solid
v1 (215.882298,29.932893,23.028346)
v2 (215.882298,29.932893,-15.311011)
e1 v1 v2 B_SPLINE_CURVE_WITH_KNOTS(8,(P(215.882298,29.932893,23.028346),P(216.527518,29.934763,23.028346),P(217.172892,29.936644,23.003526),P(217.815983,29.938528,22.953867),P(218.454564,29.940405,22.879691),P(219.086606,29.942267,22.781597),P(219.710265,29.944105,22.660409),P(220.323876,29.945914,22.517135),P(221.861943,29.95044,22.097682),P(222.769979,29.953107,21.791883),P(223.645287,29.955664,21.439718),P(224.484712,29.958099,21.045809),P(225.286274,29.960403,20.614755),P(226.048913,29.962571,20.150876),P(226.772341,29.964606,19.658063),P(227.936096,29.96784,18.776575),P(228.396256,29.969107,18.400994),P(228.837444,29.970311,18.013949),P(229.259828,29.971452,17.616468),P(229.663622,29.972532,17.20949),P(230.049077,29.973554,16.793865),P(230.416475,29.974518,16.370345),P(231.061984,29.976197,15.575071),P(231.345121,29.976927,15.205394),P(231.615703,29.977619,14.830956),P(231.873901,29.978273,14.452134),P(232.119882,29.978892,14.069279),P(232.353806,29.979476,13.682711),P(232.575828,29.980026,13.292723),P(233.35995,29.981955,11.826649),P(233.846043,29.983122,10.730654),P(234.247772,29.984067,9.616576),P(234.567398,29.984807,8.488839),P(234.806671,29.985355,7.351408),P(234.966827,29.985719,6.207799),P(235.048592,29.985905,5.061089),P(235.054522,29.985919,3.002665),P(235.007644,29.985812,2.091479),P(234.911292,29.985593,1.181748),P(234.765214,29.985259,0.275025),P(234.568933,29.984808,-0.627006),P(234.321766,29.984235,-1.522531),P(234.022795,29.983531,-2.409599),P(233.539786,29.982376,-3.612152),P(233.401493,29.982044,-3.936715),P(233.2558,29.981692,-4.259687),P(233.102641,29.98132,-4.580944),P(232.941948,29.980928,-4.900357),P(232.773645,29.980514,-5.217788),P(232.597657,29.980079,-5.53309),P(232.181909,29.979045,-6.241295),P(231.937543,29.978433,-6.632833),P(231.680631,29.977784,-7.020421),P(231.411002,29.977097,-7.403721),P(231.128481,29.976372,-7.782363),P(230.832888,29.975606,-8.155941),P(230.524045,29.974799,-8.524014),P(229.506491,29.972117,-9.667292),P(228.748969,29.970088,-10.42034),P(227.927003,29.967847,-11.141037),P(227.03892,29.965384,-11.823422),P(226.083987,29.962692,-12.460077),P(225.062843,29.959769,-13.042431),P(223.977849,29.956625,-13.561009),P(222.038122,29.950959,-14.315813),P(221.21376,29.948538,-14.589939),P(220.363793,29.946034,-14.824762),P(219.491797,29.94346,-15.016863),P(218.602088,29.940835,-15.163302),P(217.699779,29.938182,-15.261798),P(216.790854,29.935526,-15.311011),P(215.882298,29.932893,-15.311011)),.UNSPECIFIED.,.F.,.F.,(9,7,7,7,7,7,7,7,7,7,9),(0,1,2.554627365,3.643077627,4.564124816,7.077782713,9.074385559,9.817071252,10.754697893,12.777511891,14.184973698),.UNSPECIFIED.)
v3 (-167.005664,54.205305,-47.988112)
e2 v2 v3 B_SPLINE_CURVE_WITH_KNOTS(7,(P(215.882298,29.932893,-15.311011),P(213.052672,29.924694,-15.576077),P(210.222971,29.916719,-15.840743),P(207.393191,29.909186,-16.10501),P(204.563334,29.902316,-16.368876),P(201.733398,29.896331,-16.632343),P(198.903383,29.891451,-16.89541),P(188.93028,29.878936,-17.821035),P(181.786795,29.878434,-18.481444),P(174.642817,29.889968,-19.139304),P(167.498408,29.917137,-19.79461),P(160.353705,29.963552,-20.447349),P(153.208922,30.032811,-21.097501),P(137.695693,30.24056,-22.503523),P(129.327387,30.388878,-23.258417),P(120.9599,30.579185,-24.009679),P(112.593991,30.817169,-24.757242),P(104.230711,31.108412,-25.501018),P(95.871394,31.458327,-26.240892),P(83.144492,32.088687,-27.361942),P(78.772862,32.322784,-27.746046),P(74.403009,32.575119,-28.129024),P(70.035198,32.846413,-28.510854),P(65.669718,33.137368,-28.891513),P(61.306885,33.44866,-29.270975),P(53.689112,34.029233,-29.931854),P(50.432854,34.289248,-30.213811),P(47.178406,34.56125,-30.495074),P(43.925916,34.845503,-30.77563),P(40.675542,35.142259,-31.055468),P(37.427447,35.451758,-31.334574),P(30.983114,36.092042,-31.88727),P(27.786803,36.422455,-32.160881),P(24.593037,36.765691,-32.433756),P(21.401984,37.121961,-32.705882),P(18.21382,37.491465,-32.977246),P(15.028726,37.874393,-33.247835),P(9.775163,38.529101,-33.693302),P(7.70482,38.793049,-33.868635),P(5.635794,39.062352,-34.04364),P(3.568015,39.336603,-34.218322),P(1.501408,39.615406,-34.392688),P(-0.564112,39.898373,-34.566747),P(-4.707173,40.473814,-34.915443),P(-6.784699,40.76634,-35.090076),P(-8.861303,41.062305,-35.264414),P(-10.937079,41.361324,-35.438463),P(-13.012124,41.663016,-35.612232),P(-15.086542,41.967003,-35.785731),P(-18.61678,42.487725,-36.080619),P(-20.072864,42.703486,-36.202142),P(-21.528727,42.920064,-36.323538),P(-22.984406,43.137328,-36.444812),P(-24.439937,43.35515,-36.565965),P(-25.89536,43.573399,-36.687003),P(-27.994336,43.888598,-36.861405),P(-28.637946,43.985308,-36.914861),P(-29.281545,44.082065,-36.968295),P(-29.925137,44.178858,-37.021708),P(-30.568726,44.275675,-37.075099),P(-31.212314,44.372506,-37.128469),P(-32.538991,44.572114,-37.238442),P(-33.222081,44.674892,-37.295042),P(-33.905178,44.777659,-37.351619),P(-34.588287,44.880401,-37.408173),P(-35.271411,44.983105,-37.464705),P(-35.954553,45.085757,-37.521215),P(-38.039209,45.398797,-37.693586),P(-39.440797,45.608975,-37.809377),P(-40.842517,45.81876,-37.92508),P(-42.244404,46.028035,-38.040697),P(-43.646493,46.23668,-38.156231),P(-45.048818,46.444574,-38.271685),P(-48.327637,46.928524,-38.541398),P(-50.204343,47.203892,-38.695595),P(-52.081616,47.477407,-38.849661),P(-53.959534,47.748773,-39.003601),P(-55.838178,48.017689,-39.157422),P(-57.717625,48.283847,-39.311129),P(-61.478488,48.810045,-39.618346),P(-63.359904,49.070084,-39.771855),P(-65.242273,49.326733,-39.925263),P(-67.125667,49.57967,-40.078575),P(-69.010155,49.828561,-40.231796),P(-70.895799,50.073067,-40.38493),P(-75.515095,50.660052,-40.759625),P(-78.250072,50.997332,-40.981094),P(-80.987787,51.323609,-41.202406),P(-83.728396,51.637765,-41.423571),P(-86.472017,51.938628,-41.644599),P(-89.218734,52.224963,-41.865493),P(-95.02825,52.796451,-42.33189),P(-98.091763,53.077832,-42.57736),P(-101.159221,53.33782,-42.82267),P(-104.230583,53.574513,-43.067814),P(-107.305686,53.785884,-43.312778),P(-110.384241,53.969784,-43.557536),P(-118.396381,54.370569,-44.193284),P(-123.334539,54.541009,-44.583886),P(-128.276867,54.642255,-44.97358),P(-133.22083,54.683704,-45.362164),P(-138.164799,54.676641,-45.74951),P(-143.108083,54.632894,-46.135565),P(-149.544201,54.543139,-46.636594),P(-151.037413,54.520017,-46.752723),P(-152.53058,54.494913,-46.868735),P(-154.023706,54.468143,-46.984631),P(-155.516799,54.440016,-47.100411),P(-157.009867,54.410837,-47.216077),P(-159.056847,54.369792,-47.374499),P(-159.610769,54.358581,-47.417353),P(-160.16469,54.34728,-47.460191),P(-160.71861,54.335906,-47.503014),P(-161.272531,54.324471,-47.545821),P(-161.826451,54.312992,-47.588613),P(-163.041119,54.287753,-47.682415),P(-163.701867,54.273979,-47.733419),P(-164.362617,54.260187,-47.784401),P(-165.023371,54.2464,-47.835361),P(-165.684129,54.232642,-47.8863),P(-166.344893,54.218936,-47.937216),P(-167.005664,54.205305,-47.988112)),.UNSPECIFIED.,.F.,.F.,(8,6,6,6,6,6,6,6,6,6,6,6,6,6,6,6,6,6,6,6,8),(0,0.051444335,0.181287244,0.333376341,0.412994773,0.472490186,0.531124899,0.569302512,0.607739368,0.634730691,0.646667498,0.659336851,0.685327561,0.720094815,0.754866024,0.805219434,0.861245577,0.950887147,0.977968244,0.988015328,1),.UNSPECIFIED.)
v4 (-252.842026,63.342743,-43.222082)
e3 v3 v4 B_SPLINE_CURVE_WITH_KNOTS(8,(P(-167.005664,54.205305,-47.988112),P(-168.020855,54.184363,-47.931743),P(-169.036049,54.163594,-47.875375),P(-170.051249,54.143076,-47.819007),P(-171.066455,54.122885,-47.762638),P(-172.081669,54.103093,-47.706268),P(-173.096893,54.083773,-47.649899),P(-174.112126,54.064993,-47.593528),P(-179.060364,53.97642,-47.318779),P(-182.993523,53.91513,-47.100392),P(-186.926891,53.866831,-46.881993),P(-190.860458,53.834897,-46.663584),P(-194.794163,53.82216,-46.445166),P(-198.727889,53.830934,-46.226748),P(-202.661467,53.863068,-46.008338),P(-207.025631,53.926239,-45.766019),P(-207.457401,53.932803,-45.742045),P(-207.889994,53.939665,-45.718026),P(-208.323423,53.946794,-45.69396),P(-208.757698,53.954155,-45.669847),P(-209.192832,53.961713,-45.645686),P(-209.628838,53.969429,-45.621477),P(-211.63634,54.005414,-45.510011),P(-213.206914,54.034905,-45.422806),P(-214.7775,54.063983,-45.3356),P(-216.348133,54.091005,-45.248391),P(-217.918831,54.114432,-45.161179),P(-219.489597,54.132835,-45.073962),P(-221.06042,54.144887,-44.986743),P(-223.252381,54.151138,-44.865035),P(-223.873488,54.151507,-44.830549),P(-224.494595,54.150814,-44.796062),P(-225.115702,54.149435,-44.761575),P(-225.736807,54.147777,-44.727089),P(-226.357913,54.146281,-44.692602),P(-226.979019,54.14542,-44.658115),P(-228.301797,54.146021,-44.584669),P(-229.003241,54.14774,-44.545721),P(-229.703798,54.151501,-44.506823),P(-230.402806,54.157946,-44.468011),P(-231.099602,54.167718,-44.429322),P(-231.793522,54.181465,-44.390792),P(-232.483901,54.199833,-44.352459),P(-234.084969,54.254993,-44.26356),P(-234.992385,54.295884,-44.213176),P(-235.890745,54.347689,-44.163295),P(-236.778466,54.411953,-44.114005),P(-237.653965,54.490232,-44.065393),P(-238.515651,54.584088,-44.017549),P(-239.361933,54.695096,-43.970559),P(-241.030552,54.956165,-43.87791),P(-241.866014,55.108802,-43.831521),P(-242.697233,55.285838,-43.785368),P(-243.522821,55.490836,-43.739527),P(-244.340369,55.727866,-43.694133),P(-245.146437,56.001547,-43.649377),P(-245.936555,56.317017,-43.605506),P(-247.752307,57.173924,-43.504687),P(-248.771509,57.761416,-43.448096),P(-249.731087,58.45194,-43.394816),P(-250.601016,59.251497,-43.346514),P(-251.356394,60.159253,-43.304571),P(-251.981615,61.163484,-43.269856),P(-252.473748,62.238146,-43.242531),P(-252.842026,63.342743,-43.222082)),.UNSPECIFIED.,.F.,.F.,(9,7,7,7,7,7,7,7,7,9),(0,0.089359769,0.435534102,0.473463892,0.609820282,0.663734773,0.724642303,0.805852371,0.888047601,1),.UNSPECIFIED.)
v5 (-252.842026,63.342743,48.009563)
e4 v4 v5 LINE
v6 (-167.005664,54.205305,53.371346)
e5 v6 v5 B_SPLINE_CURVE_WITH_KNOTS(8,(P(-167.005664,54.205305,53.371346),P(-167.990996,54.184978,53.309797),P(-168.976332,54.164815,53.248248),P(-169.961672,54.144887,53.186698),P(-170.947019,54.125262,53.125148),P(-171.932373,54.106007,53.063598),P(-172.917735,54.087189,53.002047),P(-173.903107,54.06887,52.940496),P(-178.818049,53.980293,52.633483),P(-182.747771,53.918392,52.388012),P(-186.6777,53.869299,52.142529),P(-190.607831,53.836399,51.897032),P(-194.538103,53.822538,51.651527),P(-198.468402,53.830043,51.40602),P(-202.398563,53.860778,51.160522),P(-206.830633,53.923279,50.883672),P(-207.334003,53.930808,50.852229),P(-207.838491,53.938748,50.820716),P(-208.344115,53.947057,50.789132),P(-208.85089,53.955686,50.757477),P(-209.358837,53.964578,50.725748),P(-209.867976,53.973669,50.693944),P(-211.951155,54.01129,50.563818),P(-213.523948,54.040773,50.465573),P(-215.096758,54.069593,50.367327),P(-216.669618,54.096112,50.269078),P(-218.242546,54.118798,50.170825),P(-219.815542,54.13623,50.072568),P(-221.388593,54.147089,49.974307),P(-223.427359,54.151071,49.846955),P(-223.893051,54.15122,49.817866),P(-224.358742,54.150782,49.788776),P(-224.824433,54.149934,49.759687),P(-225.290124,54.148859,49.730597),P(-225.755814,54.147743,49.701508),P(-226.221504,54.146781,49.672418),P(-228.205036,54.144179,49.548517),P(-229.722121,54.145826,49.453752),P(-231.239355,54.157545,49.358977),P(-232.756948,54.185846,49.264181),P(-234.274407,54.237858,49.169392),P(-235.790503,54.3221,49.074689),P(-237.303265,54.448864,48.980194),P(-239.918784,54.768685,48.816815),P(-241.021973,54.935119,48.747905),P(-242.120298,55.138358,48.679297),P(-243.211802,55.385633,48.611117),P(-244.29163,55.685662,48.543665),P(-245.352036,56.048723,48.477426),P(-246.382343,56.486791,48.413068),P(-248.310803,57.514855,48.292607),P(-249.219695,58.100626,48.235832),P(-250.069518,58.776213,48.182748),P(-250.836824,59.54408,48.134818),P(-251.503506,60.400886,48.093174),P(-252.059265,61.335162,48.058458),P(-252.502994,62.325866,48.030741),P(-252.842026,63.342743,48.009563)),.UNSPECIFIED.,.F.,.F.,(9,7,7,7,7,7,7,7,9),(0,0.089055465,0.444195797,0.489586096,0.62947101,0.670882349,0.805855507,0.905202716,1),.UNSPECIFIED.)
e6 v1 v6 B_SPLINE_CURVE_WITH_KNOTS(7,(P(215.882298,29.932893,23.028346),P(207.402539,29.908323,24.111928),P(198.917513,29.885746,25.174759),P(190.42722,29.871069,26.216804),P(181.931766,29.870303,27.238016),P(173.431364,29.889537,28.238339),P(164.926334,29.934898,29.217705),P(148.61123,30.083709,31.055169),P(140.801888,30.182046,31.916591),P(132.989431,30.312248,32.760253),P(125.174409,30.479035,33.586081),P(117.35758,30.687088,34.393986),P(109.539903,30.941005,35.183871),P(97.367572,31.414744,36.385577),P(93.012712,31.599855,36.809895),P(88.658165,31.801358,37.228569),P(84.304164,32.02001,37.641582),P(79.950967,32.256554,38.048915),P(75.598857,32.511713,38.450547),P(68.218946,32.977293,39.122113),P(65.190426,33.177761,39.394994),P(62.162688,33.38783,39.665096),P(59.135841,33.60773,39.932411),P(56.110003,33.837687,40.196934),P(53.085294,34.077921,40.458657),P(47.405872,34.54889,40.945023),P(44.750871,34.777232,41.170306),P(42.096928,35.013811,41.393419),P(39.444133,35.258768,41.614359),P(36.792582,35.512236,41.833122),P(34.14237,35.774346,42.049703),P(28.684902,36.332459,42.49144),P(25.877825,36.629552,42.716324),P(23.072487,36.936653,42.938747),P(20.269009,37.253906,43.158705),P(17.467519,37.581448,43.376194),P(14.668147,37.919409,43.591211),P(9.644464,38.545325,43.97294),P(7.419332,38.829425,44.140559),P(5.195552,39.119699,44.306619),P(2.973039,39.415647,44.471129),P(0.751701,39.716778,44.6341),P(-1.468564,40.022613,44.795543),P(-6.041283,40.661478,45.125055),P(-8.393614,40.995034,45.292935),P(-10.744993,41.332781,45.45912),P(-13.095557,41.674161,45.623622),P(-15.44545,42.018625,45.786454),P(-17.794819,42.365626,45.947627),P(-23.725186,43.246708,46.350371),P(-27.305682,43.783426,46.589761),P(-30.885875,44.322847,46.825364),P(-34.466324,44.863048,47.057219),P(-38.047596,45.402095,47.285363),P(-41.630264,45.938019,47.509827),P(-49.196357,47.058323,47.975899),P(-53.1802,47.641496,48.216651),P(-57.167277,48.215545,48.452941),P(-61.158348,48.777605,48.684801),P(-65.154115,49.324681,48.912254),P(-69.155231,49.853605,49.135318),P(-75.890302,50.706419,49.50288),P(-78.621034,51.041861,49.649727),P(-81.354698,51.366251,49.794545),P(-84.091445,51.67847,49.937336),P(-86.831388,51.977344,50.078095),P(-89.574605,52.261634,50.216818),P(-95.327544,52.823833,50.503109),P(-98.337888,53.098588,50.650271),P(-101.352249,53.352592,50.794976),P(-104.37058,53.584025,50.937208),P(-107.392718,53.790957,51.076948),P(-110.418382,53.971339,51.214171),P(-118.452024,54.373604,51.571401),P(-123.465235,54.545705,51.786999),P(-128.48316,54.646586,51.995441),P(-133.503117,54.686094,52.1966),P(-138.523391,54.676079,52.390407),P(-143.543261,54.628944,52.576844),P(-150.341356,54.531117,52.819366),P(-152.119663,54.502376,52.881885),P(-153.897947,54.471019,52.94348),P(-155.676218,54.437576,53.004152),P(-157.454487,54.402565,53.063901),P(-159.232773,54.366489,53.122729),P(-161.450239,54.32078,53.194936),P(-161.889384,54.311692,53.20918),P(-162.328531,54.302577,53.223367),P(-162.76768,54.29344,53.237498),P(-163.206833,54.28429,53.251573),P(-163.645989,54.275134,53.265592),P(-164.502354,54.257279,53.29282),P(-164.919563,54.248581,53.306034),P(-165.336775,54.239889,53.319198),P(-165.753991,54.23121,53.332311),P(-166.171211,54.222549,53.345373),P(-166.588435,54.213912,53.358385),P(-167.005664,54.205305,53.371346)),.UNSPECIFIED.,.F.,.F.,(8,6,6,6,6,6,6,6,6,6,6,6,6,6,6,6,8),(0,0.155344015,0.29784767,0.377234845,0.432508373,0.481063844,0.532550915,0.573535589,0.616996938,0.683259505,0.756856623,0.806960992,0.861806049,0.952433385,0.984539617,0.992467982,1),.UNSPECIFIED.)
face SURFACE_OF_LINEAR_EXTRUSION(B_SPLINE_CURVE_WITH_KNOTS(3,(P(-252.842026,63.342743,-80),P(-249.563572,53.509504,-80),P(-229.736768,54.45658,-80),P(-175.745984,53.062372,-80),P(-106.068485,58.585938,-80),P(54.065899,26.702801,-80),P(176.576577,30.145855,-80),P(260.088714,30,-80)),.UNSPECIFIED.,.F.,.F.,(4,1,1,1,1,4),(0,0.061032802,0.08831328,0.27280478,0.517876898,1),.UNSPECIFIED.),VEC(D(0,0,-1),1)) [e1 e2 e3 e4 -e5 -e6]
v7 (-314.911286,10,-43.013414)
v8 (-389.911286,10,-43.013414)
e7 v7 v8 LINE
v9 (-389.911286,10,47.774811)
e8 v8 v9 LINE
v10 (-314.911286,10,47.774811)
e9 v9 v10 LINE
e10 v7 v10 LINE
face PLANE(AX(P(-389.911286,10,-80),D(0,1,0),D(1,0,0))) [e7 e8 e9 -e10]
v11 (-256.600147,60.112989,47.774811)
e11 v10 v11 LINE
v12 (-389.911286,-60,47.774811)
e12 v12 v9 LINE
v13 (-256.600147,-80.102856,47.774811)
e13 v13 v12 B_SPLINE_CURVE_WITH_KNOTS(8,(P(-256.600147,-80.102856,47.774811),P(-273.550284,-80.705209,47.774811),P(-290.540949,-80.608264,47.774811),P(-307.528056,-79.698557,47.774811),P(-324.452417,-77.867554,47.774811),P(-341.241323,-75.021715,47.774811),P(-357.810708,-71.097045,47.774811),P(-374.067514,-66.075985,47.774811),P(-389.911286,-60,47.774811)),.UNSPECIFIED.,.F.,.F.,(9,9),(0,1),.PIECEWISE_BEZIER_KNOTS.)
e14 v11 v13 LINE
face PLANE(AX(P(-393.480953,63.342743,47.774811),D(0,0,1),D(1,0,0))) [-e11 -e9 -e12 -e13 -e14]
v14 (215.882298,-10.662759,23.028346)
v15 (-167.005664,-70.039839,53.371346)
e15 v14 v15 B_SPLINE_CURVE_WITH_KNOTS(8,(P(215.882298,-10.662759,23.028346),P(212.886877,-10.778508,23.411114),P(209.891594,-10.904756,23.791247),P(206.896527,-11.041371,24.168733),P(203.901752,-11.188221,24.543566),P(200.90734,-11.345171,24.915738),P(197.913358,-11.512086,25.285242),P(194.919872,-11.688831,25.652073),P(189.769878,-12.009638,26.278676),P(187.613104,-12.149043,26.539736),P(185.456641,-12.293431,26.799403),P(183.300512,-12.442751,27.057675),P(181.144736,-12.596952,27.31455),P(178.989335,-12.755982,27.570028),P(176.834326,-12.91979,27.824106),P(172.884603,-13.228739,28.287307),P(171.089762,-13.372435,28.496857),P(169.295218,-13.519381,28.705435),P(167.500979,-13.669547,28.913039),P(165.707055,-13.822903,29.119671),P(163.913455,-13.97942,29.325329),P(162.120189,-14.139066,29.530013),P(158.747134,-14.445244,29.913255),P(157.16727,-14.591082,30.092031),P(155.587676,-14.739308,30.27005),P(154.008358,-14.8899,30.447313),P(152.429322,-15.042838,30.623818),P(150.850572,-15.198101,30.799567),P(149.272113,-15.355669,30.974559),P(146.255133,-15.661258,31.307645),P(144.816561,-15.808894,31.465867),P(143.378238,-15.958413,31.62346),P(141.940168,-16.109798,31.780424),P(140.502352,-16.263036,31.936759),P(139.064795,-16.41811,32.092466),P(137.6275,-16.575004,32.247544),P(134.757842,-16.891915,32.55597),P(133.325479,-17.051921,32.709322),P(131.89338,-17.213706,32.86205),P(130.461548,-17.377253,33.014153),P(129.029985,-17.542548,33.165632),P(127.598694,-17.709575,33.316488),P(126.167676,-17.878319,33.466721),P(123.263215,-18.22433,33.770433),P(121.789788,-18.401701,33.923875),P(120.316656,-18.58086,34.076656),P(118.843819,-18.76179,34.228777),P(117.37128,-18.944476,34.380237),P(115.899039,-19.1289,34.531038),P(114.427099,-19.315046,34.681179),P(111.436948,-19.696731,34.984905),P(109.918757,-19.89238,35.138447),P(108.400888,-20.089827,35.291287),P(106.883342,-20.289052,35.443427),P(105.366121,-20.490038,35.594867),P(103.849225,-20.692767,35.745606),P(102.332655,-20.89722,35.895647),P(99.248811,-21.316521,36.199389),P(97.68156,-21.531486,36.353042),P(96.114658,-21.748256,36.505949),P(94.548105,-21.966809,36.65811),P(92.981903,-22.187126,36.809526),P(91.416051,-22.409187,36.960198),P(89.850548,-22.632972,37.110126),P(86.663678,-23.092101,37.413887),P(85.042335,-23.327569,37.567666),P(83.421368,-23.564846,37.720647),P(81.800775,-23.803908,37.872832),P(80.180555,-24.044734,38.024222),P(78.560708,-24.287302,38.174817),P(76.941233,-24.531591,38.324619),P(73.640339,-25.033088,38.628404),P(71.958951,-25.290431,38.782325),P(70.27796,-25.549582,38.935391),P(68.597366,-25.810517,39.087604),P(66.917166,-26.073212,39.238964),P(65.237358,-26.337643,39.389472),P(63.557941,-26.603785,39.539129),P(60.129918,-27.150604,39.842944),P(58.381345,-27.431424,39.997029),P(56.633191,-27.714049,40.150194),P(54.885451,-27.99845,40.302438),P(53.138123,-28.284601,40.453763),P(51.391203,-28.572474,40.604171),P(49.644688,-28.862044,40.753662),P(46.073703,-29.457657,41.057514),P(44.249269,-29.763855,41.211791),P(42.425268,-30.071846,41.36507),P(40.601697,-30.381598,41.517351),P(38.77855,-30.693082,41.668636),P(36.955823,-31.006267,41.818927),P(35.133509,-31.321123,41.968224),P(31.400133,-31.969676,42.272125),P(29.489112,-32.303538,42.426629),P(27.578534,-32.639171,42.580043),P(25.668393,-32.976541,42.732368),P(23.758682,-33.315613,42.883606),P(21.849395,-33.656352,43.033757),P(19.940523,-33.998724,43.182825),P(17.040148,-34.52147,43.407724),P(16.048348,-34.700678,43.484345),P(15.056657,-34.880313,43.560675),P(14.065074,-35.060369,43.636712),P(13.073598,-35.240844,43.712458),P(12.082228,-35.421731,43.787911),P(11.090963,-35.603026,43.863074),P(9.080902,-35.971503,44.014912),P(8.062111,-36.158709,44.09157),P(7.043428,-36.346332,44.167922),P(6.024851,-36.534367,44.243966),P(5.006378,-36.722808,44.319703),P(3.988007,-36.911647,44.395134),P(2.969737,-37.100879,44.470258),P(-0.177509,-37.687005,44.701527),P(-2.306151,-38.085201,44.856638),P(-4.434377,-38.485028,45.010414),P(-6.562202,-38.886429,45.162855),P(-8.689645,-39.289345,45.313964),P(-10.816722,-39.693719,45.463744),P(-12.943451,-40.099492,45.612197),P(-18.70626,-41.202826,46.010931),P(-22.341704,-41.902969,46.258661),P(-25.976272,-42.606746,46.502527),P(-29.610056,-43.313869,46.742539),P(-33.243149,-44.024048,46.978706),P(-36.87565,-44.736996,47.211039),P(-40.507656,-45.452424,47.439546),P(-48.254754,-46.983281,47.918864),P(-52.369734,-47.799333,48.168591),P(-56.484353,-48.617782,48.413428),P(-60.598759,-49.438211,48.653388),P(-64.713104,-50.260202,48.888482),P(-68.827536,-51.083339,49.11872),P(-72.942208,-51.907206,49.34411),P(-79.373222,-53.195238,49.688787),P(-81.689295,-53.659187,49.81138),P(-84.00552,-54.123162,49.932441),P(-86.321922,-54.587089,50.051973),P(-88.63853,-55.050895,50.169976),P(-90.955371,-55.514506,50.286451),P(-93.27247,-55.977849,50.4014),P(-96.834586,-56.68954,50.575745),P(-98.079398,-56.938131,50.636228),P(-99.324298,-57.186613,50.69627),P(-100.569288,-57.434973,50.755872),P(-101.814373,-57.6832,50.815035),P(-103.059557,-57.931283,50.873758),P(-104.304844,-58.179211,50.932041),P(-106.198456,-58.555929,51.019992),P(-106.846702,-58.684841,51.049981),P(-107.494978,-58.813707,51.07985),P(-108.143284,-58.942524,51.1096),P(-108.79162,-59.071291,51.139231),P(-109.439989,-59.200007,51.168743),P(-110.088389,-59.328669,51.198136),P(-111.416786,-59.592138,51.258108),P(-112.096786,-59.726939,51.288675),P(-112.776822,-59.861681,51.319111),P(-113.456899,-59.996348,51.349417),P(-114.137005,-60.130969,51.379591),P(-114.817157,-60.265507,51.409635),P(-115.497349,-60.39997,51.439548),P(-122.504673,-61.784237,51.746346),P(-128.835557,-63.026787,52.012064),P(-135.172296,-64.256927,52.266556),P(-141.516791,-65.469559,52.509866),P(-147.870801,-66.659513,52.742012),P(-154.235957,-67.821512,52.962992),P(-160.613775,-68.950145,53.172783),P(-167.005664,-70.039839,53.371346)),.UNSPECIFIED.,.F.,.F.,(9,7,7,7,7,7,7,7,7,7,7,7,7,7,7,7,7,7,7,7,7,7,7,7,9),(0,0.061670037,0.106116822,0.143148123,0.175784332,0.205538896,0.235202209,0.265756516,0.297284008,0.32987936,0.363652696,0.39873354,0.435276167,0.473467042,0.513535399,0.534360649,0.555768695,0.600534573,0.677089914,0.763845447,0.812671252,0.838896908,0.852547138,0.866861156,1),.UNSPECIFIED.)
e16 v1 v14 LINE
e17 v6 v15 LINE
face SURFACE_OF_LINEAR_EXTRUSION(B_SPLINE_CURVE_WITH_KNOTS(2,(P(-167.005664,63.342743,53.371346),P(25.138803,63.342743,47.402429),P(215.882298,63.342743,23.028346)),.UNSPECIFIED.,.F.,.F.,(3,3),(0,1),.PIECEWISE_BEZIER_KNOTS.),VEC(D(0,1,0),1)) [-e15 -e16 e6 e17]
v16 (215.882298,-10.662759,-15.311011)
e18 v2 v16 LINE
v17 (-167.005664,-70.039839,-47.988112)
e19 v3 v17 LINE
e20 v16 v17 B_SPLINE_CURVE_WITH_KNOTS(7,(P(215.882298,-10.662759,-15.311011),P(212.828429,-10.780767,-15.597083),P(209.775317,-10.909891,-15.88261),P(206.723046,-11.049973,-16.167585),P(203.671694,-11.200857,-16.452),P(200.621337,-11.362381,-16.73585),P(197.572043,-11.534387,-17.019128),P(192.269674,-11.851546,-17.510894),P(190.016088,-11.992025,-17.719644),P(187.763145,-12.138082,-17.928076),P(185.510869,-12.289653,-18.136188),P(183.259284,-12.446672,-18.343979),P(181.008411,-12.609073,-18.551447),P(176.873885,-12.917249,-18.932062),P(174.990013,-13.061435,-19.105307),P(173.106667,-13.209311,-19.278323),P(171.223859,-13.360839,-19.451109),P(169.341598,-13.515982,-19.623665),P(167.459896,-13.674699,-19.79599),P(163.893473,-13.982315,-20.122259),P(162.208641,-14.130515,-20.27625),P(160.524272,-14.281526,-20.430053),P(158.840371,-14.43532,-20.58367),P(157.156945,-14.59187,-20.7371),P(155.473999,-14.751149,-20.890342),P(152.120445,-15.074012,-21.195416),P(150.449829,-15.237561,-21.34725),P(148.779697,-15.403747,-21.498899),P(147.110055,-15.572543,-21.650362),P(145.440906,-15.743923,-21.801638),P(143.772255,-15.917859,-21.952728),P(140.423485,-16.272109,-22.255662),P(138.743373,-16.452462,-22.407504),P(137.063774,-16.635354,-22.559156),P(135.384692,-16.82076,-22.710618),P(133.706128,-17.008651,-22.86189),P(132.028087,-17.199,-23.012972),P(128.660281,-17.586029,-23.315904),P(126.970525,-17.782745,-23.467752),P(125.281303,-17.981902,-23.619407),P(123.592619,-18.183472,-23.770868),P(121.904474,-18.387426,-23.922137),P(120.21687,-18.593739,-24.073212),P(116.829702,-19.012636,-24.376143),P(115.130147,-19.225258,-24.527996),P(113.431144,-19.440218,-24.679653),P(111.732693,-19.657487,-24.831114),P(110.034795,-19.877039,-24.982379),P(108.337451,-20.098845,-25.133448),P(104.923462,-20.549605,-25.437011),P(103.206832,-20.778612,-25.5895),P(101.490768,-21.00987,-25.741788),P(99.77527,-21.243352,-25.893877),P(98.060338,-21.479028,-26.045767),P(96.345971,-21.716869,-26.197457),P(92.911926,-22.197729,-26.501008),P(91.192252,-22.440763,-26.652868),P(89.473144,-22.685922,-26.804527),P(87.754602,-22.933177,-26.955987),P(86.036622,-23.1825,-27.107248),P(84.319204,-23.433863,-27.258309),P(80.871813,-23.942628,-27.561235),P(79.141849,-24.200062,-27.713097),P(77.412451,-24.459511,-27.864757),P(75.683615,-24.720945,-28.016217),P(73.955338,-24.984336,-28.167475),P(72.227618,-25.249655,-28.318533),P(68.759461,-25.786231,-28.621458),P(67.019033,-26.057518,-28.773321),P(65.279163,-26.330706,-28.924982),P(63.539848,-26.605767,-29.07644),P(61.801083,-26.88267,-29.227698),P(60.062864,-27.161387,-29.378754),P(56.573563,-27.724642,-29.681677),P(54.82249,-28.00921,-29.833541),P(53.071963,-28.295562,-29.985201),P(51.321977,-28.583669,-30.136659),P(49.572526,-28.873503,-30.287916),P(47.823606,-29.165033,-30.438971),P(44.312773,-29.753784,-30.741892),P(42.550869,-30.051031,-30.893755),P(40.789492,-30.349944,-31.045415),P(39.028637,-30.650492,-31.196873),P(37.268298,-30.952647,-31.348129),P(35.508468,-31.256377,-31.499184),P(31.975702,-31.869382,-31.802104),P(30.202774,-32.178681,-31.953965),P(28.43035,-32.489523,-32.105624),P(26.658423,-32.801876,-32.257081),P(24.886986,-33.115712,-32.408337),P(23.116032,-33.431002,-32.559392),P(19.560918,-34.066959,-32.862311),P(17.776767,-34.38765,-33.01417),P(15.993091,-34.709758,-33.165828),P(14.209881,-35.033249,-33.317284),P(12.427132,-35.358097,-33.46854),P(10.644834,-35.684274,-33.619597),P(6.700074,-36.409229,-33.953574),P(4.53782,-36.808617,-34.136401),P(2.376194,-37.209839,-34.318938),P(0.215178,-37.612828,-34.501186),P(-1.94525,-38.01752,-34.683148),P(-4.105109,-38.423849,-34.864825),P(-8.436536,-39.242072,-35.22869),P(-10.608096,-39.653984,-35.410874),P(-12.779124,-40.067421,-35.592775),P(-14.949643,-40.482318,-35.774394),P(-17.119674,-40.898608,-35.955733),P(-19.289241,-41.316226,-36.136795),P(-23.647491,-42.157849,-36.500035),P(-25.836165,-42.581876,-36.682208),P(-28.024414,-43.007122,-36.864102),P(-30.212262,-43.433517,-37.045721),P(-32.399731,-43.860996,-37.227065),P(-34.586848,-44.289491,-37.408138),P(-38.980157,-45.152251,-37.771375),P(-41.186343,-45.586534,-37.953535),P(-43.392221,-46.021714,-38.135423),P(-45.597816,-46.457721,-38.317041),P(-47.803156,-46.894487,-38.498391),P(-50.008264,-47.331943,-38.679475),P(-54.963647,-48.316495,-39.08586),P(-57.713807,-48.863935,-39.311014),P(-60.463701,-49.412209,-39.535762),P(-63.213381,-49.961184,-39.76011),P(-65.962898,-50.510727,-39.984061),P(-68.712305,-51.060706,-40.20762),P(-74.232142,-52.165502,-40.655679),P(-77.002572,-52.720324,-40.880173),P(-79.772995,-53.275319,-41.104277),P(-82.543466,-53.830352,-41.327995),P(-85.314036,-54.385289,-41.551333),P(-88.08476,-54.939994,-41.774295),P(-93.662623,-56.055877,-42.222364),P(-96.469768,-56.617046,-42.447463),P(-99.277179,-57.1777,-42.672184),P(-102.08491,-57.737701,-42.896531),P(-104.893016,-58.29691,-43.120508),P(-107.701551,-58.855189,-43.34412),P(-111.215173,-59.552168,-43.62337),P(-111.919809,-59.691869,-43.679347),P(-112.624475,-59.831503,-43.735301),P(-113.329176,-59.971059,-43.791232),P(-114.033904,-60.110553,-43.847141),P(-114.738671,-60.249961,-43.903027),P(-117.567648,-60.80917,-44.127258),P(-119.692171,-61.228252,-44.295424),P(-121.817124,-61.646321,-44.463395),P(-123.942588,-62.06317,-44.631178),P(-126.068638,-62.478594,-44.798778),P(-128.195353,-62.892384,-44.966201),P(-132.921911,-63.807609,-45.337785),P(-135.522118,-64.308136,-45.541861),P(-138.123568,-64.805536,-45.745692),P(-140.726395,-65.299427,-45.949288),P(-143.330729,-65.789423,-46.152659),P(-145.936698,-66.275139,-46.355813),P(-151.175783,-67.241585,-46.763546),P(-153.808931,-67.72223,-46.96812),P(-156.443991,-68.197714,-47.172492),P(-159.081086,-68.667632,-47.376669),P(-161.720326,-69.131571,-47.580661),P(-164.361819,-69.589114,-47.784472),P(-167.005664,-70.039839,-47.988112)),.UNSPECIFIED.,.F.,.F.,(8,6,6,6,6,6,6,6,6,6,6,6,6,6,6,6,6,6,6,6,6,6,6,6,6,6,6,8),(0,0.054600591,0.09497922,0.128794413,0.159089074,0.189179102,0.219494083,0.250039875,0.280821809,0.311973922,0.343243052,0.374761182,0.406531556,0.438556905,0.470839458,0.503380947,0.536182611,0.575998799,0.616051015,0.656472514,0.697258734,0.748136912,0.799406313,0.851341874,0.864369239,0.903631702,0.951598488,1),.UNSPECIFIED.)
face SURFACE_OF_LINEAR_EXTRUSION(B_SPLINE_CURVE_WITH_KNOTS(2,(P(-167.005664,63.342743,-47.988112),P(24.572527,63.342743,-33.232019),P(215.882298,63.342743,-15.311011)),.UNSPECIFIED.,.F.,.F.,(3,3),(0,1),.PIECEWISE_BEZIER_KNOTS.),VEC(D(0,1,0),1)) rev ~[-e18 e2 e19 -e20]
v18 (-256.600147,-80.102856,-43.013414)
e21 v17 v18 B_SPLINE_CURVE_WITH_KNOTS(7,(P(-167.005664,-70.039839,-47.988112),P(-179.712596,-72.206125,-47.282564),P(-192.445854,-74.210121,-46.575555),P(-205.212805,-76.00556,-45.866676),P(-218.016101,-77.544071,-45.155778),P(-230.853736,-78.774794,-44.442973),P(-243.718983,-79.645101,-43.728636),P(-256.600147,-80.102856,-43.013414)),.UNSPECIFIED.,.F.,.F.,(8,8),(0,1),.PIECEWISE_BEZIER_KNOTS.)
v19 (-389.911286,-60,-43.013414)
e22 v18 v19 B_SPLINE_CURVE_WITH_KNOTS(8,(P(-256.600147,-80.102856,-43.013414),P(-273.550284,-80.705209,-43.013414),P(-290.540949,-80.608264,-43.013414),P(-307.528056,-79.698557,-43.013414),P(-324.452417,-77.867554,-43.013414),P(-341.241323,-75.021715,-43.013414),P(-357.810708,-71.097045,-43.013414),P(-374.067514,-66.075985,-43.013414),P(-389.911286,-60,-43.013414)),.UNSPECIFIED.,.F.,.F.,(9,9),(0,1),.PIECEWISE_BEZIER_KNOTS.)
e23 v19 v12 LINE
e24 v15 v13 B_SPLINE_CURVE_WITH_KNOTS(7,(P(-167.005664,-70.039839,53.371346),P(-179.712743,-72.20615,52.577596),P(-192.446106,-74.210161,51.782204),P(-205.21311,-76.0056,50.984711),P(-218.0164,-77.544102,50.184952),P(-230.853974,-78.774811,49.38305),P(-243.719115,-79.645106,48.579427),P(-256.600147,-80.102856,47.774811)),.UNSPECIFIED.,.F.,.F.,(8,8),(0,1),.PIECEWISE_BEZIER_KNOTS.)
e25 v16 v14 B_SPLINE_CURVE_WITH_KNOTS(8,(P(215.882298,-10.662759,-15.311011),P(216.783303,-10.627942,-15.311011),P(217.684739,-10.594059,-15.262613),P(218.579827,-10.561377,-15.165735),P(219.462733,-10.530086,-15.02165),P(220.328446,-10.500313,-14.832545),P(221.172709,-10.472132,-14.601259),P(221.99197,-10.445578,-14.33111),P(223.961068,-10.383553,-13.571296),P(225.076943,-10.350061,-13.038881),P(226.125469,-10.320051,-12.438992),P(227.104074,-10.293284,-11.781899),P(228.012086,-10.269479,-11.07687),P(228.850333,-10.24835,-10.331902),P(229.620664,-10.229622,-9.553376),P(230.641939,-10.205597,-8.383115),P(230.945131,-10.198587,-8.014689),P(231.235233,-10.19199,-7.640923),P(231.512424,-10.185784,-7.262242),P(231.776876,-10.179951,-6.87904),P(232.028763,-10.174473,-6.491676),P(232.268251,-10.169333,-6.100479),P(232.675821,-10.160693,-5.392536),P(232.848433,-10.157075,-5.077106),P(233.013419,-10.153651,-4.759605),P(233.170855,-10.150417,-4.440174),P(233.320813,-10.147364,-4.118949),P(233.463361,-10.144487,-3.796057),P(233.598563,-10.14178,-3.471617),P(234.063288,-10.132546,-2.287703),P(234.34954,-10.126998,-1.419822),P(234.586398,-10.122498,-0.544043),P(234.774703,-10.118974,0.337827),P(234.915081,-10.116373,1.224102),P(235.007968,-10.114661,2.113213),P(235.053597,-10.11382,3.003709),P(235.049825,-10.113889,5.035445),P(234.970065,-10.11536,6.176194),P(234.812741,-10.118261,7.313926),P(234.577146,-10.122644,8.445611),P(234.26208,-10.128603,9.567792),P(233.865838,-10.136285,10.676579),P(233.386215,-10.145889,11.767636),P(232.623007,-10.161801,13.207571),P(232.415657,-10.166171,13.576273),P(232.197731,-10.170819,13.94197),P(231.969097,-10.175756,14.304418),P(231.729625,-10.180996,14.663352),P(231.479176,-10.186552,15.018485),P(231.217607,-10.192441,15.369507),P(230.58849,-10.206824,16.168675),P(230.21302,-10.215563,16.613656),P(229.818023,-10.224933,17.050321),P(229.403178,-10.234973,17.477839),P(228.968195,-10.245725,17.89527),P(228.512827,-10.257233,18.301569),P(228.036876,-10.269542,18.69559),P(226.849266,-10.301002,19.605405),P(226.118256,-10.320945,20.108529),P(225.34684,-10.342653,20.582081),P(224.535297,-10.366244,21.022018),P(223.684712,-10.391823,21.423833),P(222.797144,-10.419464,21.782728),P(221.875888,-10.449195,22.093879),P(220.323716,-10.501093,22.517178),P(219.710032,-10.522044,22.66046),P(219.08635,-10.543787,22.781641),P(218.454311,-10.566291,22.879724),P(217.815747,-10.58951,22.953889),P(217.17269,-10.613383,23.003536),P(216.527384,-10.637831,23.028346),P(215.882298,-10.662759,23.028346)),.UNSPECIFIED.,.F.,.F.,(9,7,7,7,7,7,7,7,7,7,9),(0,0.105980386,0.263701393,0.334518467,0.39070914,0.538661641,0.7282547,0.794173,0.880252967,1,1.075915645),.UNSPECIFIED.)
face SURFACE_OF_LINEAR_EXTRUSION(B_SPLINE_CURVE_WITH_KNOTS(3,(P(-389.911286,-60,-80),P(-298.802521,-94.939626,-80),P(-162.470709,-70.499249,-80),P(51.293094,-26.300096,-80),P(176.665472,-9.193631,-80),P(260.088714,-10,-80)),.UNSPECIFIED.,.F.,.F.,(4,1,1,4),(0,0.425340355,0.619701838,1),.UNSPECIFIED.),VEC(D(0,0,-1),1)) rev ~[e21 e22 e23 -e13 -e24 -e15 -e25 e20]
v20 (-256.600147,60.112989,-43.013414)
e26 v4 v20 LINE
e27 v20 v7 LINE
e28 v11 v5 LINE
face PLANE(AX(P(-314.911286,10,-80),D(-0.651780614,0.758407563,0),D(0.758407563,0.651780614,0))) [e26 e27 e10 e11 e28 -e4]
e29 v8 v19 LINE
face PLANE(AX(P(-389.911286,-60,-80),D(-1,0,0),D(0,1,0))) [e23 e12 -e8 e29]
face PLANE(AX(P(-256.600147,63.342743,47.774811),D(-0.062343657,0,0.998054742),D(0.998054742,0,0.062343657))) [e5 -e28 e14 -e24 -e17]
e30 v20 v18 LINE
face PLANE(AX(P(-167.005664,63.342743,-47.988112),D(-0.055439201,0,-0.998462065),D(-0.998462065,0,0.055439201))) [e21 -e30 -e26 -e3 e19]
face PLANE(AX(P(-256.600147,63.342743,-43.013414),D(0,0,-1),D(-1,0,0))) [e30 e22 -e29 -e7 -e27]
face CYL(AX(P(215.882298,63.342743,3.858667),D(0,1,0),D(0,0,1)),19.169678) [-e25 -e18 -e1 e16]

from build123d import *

# Parameters (mm, degrees)
CUERPOPRINCIPAL_DEPTH      = 80
CUERPOPRINCIPAL_DEPTH_BACK = 80
CROQUIS7_W                 = 766.54141339
CROQUIS7_H                 = 186.814047896
CORTAR_EXTRUIR3_DEPTH      = 424.189661213


with BuildPart() as part:
    # Croquis6 → CuerpoPrincipal (new, two sides: drawn at the far end of the back side and taken through both)
    with BuildSketch(Plane.XY.offset(-CUERPOPRINCIPAL_DEPTH_BACK)):
        with BuildLine():
            Line((-389.911285637, 0), (-389.911285637, 10))
            Line((-389.911285637, 10), (-314.911285637, 10))
            Line((-314.911285637, 10), (-252.842026432, 63.342743249))
            add(Edge.make_bspline(
                [(-252.842026432, 63.342743249), (-249.563571816, 53.509504255), (-229.736767838, 54.456579909), (-175.745984322, 53.062372026), (-106.068484535, 58.585938297), (54.065899345, 26.702801366), (176.576576864, 30.145854915), (260.088714363, 30)],
                knots=[0, 0, 0, 0, 0.061032802, 0.08831328, 0.27280478, 0.517876898, 1, 1, 1, 1], degree=3))
            Line((260.088714363, 30), (260.088714363, 0))
            Line((260.088714363, 0), (260.088714363, -10))
            add(Edge.make_bspline(
                [(-389.911285637, -60), (-298.802521335, -94.939625713), (-162.47070916, -70.499248703), (51.2930938, -26.3000961), (176.665472183, -9.193630881), (260.088714363, -10)],
                knots=[0, 0, 0, 0, 0.425340355, 0.619701838, 1, 1, 1, 1], degree=3))
            Line((-389.911285637, -60), (-389.911285637, 0))
        make_face()
    extrude(amount=CUERPOPRINCIPAL_DEPTH + CUERPOPRINCIPAL_DEPTH_BACK)

    # Croquis7 → Cortar-Extruir3 (cut, through all)
    with BuildSketch(Plane(origin=(0, 63.342743249, 0), x_dir=(1, 0, 0), z_dir=(0, 1, 0))):
        with Locations((-111.935875123, 0)):
            Rectangle(CROQUIS7_W, CROQUIS7_H)
        with BuildLine():
            Line((-256.600146606, -47.774811313), (-393.48095316, -47.774811313))
            Line((-393.48095316, -47.774811313), (-393.48095316, 43.013414242))
            Line((-393.48095316, 43.013414242), (-256.600146606, 43.013414242))
            Line((-256.600146606, 43.013414242), (-167.005663578, 47.988111532))
            add(Edge.make_bspline(
                [(-167.005663578, 47.988111532), (24.572527119, 33.232019495), (215.882298238, 15.311011059)],
                knots=[0, 0, 0, 1, 1, 1], degree=2))
            ThreePointArc((215.882298238, 15.311011059), (235.051976592, -3.858667295), (215.882298238, -23.028345648))
            add(Edge.make_bspline(
                [(-167.005663578, -53.371345765), (25.138803047, -47.402429077), (215.882298238, -23.028345648)],
                knots=[0, 0, 0, 1, 1, 1], degree=2))
            Line((-167.005663578, -53.371345765), (-256.600146606, -47.774811313))
        make_face(mode=Mode.SUBTRACT)
    extrude(amount=-CORTAR_EXTRUIR3_DEPTH, mode=Mode.SUBTRACT)


solid = part.part
